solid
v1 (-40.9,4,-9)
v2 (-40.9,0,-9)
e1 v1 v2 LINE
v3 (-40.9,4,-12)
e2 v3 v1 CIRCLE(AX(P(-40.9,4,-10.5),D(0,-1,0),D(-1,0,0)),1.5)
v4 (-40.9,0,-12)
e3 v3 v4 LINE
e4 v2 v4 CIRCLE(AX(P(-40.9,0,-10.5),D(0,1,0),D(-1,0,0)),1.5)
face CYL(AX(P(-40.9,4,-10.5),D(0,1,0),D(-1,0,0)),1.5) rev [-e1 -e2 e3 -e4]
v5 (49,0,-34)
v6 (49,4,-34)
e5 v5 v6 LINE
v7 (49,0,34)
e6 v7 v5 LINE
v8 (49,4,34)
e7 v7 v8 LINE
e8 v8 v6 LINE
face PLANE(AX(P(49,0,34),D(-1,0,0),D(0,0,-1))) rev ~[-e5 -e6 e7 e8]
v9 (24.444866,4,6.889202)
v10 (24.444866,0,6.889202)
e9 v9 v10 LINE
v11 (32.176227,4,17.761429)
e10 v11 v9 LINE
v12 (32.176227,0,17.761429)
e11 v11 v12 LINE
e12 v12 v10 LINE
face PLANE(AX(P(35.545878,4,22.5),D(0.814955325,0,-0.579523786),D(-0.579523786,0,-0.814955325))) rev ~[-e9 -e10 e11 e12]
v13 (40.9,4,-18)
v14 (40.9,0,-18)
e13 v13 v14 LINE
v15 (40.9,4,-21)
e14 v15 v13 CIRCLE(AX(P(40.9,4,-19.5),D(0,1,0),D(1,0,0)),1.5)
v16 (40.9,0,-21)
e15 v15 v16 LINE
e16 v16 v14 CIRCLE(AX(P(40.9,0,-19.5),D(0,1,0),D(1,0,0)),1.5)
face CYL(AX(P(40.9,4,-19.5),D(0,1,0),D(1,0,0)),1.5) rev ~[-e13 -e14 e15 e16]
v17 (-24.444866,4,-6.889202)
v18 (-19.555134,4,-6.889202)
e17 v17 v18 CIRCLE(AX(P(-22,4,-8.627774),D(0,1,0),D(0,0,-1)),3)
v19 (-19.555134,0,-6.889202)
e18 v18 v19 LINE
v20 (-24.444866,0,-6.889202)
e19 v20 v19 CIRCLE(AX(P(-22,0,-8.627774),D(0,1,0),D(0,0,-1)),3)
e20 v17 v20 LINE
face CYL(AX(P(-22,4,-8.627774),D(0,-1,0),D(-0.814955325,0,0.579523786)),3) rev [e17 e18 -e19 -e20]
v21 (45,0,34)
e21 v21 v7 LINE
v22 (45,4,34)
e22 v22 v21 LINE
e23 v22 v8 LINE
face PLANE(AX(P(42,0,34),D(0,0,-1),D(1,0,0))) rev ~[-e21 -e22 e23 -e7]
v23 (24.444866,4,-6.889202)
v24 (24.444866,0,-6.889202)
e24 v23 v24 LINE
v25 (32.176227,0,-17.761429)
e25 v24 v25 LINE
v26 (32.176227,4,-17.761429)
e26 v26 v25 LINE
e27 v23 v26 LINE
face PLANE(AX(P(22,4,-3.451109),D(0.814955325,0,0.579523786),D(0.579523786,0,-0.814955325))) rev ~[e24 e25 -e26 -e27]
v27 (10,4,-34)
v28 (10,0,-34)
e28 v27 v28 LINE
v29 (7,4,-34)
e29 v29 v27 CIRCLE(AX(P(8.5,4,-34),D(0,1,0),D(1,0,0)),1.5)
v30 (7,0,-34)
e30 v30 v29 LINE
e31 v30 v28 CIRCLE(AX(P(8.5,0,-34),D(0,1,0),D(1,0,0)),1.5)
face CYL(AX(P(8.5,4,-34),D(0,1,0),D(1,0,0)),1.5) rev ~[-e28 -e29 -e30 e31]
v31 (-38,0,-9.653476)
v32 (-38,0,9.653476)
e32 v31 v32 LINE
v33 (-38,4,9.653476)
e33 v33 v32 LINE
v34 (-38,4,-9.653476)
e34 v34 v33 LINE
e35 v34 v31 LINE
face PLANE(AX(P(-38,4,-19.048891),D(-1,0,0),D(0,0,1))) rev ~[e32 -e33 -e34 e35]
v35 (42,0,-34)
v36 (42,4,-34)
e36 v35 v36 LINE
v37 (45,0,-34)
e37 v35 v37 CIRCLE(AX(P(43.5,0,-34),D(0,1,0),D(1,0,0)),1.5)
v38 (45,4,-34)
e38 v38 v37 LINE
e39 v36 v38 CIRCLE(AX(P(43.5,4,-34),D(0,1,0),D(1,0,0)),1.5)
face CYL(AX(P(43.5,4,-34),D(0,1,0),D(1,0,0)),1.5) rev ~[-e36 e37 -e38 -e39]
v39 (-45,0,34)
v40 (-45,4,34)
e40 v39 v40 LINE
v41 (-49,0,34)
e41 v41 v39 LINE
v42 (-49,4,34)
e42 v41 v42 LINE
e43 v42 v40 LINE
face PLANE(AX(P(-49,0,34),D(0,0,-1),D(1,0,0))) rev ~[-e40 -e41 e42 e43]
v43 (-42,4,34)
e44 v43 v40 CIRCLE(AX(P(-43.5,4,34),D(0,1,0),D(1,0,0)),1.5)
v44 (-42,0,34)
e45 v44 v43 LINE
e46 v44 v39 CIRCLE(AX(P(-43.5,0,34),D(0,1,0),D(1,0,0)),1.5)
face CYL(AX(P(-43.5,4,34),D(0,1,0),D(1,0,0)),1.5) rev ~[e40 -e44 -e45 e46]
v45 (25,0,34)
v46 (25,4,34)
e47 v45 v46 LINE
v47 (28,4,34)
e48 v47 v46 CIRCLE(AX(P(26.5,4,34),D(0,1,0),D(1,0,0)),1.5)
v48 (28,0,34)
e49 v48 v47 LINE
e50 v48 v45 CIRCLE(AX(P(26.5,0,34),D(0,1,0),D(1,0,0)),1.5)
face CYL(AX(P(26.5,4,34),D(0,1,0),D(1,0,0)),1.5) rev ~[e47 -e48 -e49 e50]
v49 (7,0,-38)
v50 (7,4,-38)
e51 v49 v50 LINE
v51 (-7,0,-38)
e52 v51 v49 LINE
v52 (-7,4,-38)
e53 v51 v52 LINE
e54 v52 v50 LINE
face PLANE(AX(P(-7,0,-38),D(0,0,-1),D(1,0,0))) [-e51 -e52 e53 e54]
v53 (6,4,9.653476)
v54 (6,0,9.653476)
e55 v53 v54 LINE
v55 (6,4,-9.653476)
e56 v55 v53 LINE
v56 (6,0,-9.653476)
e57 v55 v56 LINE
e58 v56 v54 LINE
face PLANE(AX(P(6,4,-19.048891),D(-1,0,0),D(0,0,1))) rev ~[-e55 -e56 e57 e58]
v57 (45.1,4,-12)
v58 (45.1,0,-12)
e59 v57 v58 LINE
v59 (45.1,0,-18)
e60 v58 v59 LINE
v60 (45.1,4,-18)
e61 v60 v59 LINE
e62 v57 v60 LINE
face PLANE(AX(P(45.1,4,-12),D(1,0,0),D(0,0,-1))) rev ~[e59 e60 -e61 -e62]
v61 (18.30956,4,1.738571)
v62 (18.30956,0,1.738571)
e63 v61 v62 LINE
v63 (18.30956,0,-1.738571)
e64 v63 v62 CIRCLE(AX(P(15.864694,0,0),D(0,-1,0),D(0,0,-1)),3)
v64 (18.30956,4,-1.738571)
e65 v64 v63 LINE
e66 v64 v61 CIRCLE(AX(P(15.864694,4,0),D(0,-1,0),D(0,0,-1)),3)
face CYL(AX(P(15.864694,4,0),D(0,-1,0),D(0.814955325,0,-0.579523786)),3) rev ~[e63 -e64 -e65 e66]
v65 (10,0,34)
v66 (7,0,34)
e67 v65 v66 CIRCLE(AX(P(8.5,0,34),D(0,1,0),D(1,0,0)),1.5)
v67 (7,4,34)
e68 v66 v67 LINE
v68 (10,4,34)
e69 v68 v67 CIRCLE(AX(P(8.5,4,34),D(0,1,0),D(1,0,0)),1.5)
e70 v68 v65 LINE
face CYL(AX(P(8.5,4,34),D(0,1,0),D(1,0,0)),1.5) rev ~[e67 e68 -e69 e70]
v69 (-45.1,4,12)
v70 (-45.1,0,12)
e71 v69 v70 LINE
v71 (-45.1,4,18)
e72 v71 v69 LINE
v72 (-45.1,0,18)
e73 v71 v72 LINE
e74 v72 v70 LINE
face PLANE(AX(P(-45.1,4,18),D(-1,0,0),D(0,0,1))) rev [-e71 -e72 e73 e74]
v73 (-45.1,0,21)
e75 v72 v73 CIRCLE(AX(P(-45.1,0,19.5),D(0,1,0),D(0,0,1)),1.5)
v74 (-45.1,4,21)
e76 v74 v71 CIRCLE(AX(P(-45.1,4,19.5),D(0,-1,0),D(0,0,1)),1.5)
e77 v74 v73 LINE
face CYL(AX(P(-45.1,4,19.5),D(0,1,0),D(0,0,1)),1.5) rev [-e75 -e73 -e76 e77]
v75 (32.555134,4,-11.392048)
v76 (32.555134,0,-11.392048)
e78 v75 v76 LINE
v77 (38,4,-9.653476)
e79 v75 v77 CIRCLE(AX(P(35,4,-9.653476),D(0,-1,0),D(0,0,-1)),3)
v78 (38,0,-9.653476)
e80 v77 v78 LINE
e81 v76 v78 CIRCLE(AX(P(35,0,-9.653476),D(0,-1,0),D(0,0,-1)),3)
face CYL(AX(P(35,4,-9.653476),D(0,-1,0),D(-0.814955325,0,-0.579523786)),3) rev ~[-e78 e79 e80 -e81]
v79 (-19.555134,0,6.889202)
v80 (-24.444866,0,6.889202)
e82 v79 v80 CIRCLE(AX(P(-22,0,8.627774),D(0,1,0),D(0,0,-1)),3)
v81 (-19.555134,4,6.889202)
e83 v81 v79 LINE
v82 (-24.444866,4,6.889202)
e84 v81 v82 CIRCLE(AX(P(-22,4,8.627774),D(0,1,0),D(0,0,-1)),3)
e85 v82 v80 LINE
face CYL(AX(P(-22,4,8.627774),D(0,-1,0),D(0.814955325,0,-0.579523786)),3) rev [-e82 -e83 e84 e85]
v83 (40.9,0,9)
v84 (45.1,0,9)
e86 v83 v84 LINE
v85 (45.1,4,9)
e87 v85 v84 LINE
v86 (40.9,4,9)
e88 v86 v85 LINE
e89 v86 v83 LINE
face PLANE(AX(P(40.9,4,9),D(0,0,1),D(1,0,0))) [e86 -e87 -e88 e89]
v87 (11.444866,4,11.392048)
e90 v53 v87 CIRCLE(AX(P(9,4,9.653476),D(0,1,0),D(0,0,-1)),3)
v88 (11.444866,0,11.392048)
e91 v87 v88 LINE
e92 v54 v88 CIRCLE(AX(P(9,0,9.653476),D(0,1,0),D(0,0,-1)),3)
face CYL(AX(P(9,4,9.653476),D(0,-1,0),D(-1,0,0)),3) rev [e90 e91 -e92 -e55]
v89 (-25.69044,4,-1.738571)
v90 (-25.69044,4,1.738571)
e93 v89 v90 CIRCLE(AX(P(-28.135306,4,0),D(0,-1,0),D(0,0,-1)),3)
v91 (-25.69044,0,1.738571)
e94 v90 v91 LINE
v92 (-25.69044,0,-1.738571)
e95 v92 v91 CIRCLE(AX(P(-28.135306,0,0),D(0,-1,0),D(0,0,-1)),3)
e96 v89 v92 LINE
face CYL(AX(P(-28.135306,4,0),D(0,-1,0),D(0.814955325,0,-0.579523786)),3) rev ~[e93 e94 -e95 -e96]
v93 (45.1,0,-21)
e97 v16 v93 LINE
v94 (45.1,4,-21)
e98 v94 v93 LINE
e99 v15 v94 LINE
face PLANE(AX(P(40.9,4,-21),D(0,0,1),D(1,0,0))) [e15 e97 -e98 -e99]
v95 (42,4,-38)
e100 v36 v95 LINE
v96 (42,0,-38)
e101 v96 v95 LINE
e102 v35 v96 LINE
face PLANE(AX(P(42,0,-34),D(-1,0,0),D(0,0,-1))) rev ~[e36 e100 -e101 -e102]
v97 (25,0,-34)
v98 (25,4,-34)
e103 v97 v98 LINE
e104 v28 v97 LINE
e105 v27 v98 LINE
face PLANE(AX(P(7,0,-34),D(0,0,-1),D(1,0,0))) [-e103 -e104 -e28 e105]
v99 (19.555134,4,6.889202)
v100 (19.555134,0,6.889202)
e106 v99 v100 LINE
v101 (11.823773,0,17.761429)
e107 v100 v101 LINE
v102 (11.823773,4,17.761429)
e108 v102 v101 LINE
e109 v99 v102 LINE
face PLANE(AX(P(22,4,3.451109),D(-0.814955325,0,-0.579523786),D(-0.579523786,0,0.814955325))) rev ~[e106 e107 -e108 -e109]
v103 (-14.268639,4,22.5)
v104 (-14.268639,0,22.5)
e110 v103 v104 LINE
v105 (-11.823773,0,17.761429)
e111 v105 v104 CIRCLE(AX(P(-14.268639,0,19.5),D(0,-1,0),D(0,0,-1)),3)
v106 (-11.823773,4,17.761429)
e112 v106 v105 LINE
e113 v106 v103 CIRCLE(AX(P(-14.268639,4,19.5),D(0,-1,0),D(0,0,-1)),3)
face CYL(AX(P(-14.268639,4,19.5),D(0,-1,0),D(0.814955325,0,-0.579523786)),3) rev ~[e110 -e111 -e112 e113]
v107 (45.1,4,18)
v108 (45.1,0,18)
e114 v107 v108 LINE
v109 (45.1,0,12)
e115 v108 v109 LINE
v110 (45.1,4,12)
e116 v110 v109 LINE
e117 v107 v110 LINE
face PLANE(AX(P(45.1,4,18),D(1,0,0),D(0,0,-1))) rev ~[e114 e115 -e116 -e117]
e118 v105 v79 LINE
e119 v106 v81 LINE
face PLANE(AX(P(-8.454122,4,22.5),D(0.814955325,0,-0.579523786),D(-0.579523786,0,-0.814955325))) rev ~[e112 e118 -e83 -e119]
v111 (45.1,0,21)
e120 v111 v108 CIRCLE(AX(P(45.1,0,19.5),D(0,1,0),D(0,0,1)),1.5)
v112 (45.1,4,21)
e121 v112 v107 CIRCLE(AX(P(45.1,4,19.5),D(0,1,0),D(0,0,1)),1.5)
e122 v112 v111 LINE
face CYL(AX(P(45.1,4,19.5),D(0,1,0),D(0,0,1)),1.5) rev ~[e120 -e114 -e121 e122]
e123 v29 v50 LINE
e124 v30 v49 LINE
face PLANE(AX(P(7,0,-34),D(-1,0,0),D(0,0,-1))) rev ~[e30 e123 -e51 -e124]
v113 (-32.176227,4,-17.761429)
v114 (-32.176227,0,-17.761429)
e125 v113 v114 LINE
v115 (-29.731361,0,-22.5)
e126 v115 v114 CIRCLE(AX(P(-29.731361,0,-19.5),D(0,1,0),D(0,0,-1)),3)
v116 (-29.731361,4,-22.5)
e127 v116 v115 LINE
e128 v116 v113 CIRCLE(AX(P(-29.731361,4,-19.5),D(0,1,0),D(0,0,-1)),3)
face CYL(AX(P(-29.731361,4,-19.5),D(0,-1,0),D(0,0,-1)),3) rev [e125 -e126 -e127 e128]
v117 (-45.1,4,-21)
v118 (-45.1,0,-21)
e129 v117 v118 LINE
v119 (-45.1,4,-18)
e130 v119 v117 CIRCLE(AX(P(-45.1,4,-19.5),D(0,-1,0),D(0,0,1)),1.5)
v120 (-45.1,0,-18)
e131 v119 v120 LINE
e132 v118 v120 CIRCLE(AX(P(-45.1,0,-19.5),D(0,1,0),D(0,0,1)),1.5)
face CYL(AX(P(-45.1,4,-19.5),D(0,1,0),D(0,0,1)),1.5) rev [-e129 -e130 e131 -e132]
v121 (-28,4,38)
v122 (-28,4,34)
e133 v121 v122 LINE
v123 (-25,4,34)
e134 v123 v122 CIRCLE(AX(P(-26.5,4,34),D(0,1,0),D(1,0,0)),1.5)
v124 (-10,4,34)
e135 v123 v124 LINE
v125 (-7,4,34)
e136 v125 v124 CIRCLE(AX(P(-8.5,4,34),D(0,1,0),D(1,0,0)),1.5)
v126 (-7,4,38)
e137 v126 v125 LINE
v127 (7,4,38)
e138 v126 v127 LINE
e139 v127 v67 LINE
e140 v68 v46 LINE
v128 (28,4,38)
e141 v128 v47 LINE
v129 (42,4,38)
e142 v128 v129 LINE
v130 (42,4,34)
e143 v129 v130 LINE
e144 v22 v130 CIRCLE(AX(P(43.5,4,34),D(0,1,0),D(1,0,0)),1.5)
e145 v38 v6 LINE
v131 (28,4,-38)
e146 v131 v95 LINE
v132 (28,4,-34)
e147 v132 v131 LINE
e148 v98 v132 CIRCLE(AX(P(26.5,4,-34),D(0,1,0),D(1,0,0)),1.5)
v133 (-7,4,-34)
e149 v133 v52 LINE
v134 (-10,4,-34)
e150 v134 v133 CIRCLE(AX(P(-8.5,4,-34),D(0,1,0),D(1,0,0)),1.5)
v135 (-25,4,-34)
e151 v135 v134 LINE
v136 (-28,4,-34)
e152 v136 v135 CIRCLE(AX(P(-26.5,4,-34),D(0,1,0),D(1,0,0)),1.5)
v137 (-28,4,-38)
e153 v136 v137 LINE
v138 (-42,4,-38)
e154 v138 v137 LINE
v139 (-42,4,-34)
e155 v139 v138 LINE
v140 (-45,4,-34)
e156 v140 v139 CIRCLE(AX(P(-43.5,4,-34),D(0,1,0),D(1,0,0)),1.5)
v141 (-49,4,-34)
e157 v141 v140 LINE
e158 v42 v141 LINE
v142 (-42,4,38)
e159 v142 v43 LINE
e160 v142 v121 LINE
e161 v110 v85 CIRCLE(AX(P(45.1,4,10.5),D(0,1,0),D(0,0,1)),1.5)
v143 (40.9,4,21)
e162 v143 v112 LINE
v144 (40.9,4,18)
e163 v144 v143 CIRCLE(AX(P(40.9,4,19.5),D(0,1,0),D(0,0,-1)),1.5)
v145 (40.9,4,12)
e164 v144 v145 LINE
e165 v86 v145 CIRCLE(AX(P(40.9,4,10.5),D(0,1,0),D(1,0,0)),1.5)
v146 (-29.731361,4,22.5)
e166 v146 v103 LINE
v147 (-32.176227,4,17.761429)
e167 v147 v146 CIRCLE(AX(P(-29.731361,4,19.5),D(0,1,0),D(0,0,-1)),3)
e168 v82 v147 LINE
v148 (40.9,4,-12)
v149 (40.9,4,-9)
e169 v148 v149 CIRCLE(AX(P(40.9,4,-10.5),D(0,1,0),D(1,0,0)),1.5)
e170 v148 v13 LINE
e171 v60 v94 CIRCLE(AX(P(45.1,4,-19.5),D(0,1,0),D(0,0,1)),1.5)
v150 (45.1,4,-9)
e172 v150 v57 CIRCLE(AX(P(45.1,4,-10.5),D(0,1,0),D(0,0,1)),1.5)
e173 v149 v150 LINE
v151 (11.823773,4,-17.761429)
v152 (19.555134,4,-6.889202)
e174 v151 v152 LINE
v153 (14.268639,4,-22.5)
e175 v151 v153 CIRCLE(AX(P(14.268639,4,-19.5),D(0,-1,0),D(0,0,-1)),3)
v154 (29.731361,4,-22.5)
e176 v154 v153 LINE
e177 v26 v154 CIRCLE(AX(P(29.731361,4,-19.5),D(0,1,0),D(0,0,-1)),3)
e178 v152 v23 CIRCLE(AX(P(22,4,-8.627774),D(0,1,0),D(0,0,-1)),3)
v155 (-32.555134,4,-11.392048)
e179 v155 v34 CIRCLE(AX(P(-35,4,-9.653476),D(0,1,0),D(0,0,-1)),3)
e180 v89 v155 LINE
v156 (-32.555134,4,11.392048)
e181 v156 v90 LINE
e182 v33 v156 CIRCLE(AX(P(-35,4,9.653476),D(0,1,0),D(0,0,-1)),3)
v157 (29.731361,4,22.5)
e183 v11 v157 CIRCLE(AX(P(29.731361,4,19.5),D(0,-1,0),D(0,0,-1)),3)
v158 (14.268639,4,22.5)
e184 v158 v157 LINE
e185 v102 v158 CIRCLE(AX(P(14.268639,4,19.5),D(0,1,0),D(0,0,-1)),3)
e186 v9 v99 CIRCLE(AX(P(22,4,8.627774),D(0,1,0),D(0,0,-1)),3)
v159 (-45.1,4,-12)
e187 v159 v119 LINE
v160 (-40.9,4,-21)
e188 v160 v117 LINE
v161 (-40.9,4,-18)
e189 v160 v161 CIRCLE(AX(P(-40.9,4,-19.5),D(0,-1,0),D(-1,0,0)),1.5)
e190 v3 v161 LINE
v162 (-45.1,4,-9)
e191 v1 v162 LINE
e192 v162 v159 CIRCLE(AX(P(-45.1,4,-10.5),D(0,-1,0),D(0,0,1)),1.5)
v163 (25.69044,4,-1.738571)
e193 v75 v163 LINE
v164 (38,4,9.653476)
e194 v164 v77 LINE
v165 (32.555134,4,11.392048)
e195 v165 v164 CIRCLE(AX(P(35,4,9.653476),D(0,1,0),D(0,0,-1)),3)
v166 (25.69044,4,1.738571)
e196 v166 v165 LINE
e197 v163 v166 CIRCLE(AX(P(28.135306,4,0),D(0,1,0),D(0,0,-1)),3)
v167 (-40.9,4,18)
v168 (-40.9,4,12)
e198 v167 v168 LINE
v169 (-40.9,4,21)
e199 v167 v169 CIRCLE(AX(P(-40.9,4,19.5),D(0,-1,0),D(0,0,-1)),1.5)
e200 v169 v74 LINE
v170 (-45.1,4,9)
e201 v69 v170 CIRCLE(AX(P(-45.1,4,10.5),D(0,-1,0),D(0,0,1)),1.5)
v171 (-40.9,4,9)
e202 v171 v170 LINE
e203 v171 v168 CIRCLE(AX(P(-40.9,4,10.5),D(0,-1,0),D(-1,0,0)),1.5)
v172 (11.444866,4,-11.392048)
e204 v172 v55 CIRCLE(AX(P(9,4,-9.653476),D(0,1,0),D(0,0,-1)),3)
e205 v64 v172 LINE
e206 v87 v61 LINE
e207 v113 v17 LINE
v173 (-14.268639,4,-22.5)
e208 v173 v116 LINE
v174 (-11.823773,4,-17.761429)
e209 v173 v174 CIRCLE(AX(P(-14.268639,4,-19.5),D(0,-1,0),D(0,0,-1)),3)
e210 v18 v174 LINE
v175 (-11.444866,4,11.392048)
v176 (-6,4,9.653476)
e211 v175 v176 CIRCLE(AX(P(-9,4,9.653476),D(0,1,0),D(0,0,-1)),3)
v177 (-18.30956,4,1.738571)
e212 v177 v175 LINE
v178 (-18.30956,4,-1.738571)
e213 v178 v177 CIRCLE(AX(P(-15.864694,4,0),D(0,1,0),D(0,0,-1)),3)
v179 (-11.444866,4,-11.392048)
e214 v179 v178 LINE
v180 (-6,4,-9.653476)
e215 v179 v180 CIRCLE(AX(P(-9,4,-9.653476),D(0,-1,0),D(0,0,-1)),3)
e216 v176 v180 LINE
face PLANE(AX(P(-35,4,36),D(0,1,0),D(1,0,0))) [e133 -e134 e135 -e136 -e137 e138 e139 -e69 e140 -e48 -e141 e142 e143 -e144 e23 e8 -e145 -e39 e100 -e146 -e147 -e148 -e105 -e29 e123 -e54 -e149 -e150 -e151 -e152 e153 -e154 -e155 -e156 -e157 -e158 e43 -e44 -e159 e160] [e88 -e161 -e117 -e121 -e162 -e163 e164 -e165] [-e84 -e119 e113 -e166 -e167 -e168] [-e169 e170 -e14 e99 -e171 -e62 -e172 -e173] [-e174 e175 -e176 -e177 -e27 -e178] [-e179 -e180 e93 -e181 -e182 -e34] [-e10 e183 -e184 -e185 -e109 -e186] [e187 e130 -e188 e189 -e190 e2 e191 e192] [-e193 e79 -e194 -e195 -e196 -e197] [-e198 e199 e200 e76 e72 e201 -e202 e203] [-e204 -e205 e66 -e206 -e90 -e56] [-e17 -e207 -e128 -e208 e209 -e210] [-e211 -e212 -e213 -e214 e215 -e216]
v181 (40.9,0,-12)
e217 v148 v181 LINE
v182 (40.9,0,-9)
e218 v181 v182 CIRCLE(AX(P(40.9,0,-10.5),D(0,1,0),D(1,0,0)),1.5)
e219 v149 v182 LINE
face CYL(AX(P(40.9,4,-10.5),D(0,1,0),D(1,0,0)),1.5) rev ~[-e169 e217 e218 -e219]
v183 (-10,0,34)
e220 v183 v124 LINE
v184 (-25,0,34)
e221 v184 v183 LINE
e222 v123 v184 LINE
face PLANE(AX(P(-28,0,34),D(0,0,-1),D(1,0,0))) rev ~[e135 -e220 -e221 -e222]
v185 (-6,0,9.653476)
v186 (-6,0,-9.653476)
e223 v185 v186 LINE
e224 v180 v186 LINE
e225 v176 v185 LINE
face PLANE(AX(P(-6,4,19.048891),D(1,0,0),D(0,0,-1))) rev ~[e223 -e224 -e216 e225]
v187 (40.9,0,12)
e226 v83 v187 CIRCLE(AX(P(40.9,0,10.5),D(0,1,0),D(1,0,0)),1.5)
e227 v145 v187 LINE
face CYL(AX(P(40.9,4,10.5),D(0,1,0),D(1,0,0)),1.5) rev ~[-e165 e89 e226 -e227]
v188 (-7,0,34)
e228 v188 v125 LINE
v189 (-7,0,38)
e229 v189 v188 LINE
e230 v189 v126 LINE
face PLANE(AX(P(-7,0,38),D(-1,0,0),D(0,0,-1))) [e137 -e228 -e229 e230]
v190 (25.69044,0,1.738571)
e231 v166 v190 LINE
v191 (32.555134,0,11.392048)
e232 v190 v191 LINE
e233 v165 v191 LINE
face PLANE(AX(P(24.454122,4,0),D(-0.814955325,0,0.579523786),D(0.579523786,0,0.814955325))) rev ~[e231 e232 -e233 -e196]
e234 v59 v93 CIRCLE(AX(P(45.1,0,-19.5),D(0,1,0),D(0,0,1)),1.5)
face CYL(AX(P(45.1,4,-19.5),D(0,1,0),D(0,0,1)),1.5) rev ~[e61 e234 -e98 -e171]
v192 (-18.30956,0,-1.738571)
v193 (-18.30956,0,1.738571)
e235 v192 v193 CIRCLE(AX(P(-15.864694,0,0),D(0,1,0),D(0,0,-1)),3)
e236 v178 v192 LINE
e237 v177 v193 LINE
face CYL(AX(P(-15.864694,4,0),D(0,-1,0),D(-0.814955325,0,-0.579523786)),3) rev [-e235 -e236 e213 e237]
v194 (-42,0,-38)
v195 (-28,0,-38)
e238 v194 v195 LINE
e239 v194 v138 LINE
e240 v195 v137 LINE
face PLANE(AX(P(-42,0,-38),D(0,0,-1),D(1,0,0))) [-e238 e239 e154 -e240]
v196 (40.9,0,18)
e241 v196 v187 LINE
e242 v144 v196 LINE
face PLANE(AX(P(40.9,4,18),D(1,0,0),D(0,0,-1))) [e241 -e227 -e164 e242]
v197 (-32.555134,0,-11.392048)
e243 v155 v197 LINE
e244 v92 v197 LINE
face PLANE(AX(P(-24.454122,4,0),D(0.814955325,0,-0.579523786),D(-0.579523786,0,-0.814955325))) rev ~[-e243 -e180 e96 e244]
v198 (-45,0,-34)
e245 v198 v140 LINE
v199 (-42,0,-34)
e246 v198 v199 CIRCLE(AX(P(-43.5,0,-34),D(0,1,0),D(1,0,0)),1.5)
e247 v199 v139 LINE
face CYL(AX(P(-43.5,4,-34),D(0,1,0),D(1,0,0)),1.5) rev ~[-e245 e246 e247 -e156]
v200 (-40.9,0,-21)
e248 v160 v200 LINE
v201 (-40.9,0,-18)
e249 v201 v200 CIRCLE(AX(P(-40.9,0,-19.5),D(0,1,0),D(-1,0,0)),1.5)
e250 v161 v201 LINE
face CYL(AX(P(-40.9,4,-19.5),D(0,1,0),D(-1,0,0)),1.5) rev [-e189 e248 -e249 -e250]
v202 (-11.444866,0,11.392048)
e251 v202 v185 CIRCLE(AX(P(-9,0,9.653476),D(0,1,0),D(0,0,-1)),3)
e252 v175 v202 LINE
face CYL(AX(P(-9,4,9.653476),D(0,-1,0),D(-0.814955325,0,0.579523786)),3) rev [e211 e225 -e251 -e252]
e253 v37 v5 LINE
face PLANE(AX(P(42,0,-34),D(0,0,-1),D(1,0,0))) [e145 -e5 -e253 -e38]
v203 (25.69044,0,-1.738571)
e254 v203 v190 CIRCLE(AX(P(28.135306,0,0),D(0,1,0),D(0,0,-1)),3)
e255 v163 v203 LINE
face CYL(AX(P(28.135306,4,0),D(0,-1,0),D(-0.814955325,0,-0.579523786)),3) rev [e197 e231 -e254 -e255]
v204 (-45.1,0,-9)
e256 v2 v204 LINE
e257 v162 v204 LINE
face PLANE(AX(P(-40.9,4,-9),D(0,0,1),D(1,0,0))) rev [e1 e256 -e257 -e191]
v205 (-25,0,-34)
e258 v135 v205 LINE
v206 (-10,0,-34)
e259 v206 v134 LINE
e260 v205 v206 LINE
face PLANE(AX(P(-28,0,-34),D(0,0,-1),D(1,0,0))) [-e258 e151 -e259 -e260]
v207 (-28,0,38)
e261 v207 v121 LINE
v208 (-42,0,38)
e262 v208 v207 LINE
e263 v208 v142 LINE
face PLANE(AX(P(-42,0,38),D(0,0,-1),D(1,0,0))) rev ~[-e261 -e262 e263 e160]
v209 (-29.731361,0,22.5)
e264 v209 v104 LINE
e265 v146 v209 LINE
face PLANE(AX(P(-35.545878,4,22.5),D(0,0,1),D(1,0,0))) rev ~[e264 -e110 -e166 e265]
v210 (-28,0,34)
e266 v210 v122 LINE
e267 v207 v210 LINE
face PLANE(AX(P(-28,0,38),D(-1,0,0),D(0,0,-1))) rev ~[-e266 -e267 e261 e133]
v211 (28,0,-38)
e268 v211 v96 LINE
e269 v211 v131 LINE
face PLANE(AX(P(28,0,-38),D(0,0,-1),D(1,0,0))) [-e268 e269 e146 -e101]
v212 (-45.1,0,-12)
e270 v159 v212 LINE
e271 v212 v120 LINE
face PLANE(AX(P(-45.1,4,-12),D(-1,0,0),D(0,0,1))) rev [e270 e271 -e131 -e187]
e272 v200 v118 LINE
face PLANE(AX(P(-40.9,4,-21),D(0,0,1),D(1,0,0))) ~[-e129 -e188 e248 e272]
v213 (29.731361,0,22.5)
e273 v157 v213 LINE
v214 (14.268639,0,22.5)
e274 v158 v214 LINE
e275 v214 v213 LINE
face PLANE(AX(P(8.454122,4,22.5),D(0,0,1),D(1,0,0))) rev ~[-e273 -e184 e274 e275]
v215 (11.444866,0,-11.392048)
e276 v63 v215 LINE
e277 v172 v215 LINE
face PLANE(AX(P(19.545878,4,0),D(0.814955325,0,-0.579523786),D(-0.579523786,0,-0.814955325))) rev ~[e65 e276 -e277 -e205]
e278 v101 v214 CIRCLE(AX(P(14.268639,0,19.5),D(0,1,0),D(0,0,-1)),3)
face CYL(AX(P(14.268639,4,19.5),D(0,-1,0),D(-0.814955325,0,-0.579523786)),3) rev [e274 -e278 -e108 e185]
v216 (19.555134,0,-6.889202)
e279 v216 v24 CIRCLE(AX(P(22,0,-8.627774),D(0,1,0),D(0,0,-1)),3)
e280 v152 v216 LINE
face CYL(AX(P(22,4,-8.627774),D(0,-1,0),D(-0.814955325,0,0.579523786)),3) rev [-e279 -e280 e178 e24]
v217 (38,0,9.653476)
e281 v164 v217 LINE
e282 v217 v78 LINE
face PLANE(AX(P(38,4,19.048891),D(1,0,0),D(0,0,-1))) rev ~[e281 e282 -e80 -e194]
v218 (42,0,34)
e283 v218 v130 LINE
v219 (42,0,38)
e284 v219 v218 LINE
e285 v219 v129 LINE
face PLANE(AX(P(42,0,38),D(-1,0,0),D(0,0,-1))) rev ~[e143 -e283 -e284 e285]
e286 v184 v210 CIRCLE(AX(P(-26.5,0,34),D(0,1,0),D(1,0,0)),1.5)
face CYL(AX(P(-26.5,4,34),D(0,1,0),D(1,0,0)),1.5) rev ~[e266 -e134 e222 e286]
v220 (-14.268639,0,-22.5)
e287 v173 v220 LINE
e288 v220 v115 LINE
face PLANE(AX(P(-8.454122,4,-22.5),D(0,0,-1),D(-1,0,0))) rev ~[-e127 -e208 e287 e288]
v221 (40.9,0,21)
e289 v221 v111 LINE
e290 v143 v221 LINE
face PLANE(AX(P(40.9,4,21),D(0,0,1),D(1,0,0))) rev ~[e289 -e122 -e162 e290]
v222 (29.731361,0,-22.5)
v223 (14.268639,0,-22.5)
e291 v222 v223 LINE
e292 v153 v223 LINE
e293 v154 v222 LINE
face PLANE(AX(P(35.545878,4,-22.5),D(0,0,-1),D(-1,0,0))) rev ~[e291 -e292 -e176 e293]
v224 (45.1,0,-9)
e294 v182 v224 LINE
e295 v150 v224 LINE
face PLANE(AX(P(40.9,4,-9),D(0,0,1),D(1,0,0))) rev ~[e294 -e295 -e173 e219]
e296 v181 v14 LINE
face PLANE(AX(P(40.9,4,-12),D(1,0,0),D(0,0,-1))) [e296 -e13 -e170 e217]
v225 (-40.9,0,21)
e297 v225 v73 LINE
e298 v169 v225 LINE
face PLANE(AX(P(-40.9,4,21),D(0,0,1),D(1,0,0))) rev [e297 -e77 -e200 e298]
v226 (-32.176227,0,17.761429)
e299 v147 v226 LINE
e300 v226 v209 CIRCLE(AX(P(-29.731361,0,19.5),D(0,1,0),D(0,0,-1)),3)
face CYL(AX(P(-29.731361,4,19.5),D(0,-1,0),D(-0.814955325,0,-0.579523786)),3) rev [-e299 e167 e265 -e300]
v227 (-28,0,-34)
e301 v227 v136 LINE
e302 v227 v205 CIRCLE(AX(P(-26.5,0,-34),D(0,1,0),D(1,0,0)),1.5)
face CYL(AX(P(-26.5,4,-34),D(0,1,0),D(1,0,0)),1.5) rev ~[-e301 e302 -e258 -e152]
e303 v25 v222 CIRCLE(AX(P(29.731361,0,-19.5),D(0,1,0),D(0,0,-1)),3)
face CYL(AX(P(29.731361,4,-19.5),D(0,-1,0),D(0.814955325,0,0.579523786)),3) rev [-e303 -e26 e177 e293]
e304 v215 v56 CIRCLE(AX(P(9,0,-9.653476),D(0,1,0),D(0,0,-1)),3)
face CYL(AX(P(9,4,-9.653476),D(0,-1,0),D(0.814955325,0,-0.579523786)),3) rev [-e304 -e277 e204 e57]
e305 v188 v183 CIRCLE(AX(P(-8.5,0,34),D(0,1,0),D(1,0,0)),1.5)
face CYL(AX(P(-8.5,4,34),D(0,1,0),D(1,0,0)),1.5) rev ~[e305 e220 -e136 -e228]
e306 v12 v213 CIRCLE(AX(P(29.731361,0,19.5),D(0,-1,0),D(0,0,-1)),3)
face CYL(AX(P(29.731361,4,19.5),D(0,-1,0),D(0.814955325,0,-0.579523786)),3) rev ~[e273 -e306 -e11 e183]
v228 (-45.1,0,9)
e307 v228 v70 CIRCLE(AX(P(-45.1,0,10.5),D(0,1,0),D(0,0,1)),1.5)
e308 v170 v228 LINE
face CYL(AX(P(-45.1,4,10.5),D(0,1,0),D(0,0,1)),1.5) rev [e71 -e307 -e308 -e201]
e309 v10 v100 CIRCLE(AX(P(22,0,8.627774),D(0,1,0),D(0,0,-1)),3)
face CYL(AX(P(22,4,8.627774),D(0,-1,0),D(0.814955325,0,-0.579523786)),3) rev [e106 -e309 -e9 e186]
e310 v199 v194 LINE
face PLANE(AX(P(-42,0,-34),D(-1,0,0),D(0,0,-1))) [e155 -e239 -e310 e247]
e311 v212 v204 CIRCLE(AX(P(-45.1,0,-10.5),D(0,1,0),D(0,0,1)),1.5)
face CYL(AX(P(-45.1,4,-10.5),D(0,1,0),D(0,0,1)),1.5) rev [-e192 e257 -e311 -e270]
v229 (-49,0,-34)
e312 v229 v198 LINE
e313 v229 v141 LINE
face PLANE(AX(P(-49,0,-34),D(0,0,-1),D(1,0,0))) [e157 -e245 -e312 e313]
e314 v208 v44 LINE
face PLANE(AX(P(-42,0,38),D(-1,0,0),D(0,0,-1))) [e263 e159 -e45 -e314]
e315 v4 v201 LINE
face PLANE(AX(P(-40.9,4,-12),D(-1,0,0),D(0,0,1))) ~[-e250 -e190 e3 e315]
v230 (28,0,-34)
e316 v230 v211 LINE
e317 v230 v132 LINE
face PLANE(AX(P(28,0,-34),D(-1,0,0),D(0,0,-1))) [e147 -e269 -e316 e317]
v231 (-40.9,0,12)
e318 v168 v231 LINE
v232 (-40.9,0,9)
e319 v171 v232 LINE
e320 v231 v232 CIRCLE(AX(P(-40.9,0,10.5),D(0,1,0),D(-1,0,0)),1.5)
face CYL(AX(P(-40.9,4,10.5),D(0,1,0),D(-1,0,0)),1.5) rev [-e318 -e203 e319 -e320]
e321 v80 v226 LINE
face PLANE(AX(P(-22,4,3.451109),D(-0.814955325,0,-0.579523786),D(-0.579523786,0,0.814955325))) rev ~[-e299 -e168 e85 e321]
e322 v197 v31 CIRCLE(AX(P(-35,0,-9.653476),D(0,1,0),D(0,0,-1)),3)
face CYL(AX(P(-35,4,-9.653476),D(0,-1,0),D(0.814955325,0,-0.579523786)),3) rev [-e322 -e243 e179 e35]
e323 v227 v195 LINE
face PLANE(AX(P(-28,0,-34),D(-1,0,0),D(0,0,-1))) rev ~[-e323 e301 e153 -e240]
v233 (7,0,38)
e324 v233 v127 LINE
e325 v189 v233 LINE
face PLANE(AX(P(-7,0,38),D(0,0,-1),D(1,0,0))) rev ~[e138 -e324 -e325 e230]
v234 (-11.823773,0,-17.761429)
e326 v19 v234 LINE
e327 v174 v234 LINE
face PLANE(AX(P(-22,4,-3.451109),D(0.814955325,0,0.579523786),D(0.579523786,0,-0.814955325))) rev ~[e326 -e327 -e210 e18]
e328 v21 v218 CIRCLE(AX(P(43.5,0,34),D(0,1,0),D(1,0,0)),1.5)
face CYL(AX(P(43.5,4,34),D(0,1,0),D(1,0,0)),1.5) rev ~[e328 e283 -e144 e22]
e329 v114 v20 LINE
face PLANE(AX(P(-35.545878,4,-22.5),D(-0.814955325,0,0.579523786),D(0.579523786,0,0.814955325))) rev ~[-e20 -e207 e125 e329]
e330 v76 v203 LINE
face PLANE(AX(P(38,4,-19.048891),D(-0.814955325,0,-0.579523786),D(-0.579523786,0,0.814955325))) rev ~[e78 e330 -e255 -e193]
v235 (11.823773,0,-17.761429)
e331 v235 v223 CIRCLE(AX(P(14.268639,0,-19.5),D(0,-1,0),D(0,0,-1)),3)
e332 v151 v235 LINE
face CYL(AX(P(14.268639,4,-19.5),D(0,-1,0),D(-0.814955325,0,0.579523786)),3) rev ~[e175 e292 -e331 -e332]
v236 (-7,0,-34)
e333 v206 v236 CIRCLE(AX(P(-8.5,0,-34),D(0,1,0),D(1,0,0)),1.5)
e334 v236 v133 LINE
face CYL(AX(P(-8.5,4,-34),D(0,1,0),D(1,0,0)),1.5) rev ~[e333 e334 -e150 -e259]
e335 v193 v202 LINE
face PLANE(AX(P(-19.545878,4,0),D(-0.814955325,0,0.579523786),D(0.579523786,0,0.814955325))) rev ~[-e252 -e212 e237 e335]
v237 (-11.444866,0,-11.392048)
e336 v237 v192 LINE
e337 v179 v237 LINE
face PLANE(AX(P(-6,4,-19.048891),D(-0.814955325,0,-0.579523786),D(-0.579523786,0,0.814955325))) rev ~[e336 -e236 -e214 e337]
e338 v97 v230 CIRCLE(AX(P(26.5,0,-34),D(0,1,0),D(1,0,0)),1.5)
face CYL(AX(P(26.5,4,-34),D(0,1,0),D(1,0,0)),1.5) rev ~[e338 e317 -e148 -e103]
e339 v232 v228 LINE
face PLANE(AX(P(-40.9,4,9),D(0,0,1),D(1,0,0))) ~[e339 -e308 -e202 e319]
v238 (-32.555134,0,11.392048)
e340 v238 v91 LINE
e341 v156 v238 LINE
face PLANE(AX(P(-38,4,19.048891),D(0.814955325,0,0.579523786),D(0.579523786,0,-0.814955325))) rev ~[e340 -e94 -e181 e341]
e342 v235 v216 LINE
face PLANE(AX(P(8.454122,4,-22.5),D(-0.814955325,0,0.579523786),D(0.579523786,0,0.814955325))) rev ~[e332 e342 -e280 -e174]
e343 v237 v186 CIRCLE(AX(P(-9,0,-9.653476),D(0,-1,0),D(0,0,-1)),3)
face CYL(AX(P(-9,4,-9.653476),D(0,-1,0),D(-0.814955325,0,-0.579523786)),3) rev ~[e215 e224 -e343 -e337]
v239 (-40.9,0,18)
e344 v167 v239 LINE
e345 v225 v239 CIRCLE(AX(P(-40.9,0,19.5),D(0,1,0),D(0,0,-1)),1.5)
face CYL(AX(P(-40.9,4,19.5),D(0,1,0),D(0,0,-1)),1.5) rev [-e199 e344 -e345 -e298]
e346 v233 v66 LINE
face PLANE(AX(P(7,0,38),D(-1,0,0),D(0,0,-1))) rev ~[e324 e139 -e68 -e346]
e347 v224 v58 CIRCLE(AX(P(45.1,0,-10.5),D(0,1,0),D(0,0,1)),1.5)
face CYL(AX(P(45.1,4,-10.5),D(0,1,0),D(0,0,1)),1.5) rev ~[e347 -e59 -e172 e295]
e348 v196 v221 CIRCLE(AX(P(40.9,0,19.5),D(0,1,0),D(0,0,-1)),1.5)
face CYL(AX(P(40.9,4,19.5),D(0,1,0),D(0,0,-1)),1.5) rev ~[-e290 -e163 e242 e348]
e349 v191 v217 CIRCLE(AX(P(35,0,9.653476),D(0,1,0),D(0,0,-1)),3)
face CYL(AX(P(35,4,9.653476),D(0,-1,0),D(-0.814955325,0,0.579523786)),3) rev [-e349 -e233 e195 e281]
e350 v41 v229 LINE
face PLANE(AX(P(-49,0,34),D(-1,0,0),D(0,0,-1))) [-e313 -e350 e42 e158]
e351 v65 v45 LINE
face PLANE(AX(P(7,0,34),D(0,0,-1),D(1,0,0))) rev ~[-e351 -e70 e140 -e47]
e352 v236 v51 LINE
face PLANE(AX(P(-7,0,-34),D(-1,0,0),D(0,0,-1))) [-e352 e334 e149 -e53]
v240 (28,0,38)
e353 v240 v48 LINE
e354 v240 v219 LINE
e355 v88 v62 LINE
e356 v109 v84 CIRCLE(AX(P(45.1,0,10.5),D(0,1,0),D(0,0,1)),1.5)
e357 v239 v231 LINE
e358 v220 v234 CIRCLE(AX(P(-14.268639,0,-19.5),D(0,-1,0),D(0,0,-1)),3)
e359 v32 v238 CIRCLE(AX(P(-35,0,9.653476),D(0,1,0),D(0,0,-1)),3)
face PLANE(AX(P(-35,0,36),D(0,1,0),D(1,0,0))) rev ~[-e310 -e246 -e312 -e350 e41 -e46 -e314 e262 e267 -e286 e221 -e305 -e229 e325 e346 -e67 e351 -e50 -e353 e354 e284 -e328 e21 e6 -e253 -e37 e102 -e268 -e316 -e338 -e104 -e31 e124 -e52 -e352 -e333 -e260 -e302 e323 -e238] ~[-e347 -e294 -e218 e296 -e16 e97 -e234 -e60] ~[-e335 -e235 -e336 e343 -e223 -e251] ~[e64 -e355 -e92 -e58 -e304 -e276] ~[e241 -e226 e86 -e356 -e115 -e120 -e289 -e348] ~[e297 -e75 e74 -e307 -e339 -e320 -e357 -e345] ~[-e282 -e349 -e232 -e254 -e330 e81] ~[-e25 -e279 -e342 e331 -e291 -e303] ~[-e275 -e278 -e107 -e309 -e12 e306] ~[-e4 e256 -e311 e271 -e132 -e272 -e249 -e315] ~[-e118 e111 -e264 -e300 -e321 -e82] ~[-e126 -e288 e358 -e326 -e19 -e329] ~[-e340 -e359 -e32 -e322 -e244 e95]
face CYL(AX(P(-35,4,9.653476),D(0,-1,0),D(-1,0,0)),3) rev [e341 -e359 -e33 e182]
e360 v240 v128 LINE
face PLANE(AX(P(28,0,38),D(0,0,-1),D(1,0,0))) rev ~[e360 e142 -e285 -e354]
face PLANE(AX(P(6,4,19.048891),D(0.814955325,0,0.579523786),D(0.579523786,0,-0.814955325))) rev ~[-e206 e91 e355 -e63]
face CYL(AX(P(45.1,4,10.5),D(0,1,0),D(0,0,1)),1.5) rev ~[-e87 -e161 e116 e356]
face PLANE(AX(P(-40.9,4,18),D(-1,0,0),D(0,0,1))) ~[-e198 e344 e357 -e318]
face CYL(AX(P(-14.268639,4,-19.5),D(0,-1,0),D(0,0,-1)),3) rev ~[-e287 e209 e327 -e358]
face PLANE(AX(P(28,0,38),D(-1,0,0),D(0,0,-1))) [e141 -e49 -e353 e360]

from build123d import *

# Parameters (mm, degrees)
SKETCH_1_W          = 14
SKETCH_1_H          = 4
SKETCH_1_W_2        = 98
SKETCH_1_H_2        = 68
EXTRUDE_1_DEPTH     = 4
SKETCH_2_R          = 1.5
CUT_EXTRUDE_1_DEPTH = 4
SKETCH_3_R          = 1.5
SKETCH_3_W          = 4.2
SKETCH_3_H          = 12
CUT_EXTRUDE_2_DEPTH = 10
CUT_EXTRUDE_3_DEPTH = 5
FILLET_1_R          = 3


with BuildPart() as part:
    # 草图1 → 凸台-拉伸1 (new body)
    with BuildSketch(Plane(origin=(0, 0, 0), x_dir=(1, 0, 0), z_dir=(0, 1, 0))):
        with Locations((-35, -36)):
            Rectangle(SKETCH_1_W, SKETCH_1_H)
        Rectangle(SKETCH_1_W_2, SKETCH_1_H_2)
        with Locations((0, -36)):
            Rectangle(SKETCH_1_W, SKETCH_1_H)
        with Locations((35, -36)):
            Rectangle(SKETCH_1_W, SKETCH_1_H)
        with Locations((-35, 36)):
            Rectangle(SKETCH_1_W, SKETCH_1_H)
        with Locations((35, 36)):
            Rectangle(SKETCH_1_W, SKETCH_1_H)
        with Locations((0, 36)):
            Rectangle(SKETCH_1_W, SKETCH_1_H)
    extrude(amount=EXTRUDE_1_DEPTH)

    # 草图2 → 切除-拉伸1 (cut)
    with BuildSketch(Plane(origin=(0, 4, 0), x_dir=(1, 0, 0), z_dir=(0, 1, 0))):
        with Locations((-43.5, 34)):
            Circle(SKETCH_2_R)
        with Locations((-26.5, 34)):
            Circle(SKETCH_2_R)
        with Locations((-8.5, 34)):
            Circle(SKETCH_2_R)
        with Locations((-43.5, -34)):
            Circle(SKETCH_2_R)
        with Locations((-26.5, -34)):
            Circle(SKETCH_2_R)
        with Locations((-8.5, -34)):
            Circle(SKETCH_2_R)
        with Locations((8.5, 34)):
            Circle(SKETCH_2_R)
        with Locations((26.5, 34)):
            Circle(SKETCH_2_R)
        with Locations((26.5, -34)):
            Circle(SKETCH_2_R)
        with Locations((8.5, -34)):
            Circle(SKETCH_2_R)
        with Locations((43.5, -34)):
            Circle(SKETCH_2_R)
        with Locations((43.5, 34)):
            Circle(SKETCH_2_R)
    extrude(amount=-CUT_EXTRUDE_1_DEPTH, mode=Mode.SUBTRACT)

    # 草图3 → 切除-拉伸2 (cut)
    with BuildSketch(Plane(origin=(0, 4, 0), x_dir=(1, 0, 0), z_dir=(0, 1, 0))):
        with Locations((45.1, 10.5)):
            Circle(SKETCH_3_R)
        with Locations((45.1, 19.5)):
            Circle(SKETCH_3_R)
        with Locations((40.9, 19.5)):
            Circle(SKETCH_3_R)
        with Locations((40.9, 10.5)):
            Circle(SKETCH_3_R)
        with Locations((43, 15)):
            Rectangle(SKETCH_3_W, SKETCH_3_H)
        with BuildLine():
            ThreePointArc((42.4, 10.5), (41.960660172, 11.560660172), (40.9, 12))
            Line((40.9, 12), (40.9, 9))
            ThreePointArc((40.9, 9), (41.960660172, 9.439339828), (42.4, 10.5))
        make_face()
        with BuildLine():
            Line((40.9, 9), (40.9, 12))
            ThreePointArc((40.9, 12), (39.4, 10.5), (40.9, 9))
        make_face()
        with BuildLine():
            ThreePointArc((42.4, 19.5), (41.960660172, 20.560660172), (40.9, 21))
            Line((40.9, 21), (40.9, 18))
            ThreePointArc((40.9, 18), (41.960660172, 18.439339828), (42.4, 19.5))
        make_face()
        with BuildLine():
            Line((40.9, 18), (40.9, 21))
            ThreePointArc((40.9, 21), (39.4, 19.5), (40.9, 18))
        make_face()
        with BuildLine():
            ThreePointArc((46.6, 19.5), (46.160660172, 20.560660172), (45.1, 21))
            Line((45.1, 21), (45.1, 18))
            ThreePointArc((45.1, 18), (46.160660172, 18.439339828), (46.6, 19.5))
        make_face()
        with BuildLine():
            Line((45.1, 18), (45.1, 21))
            ThreePointArc((45.1, 21), (43.6, 19.5), (45.1, 18))
        make_face()
        with BuildLine():
            ThreePointArc((46.6, 10.5), (46.160660172, 11.560660172), (45.1, 12))
            Line((45.1, 12), (45.1, 9))
            ThreePointArc((45.1, 9), (46.160660172, 9.439339828), (46.6, 10.5))
        make_face()
        with BuildLine():
            Line((45.1, 9), (45.1, 12))
            ThreePointArc((45.1, 12), (43.6, 10.5), (45.1, 9))
        make_face()
        with BuildLine():
            ThreePointArc((40.9, -18), (39.4, -19.5), (40.9, -21))
            Line((40.9, -21), (40.9, -18))
        make_face()
        with BuildLine():
            Line((40.9, -18), (40.9, -21))
            ThreePointArc((40.9, -21), (41.960660172, -20.560660172), (42.4, -19.5))
            ThreePointArc((42.4, -19.5), (41.960660172, -18.439339828), (40.9, -18))
        make_face()
        with Locations((40.9, -19.5)):
            Circle(SKETCH_3_R)
        with Locations((45.1, -19.5)):
            Circle(SKETCH_3_R)
        with Locations((45.1, -10.5)):
            Circle(SKETCH_3_R)
        with Locations((40.9, -10.5)):
            Circle(SKETCH_3_R)
        with Locations((43, -15)):
            Rectangle(SKETCH_3_W, SKETCH_3_H)
        with BuildLine():
            ThreePointArc((45.1, -18), (43.6, -19.5), (45.1, -21))
            Line((45.1, -21), (45.1, -18))
        make_face()
        with BuildLine():
            Line((45.1, -18), (45.1, -21))
            ThreePointArc((45.1, -21), (46.160660172, -20.560660172), (46.6, -19.5))
            ThreePointArc((46.6, -19.5), (46.160660172, -18.439339828), (45.1, -18))
        make_face()
        with BuildLine():
            ThreePointArc((40.9, -9), (39.4, -10.5), (40.9, -12))
            Line((40.9, -12), (40.9, -9))
        make_face()
        with BuildLine():
            Line((40.9, -9), (40.9, -12))
            ThreePointArc((40.9, -12), (41.960660172, -11.560660172), (42.4, -10.5))
            ThreePointArc((42.4, -10.5), (41.960660172, -9.439339828), (40.9, -9))
        make_face()
        with BuildLine():
            ThreePointArc((45.1, -9), (43.6, -10.5), (45.1, -12))
            Line((45.1, -12), (45.1, -9))
        make_face()
        with BuildLine():
            Line((45.1, -9), (45.1, -12))
            ThreePointArc((45.1, -12), (46.160660172, -11.560660172), (46.6, -10.5))
            ThreePointArc((46.6, -10.5), (46.160660172, -9.439339828), (45.1, -9))
        make_face()
    cut_extrude_2 = extrude(amount=-CUT_EXTRUDE_2_DEPTH, mode=Mode.SUBTRACT)

    # 镜向1: 切除-拉伸2 across plane
    add(cut_extrude_2.mirror(Plane(origin=(0, 0, 0), x_dir=(0, 0, 1), z_dir=(1, 0, 0))), mode=Mode.SUBTRACT)

    # 草图4 → 切除-拉伸3 (cut)
    with BuildSketch(Plane(origin=(0, 4, 0), x_dir=(1, 0, 0), z_dir=(0, 1, 0))):
        Polygon((-24.454122256, 0), (-38, 19.048890577), (-38, -19.048890577), align=None)
        Polygon((-8.454122256, 22.5), (-35.545877744, 22.5), (-22, 3.451109423), align=None)
        Polygon((-6, 19.048890577), (-19.545877744, 0), (-6, -19.048890577), align=None)
        Polygon((-8.454122256, -22.5), (-22, -3.451109423), (-35.545877744, -22.5), align=None)
        Polygon((19.545877744, 0), (6, 19.048890577), (6, -19.048890577), align=None)
        Polygon((8.454122256, 22.5), (22, 3.451109423), (35.545877744, 22.5), align=None)
        Polygon((38, 19.048890577), (24.454122256, 0), (38, -19.048890577), align=None)
        Polygon((35.545877744, -22.5), (22, -3.451109423), (8.454122256, -22.5), align=None)
    extrude(amount=-CUT_EXTRUDE_3_DEPTH, mode=Mode.SUBTRACT)

    # 圆角1
    fillet_1_edges = [part.edges().sort_by_distance(p)[0] for p in [
        (6, 2, -19.048890577),
        (19.545877744, 2, 0),
        (6, 2, 19.048890577),
        (-22, 2, 3.451109423),
        (-8.454122256, 2, 22.5),
        (-35.545877744, 2, 22.5),
        (-8.454122256, 2, -22.5),
        (-22, 2, -3.451109423),
        (-35.545877744, 2, -22.5),
        (-6, 2, -19.048890577),
        (-6, 2, 19.048890577),
        (-19.545877744, 2, 0),
        (35.545877744, 2, 22.5),
        (8.454122256, 2, 22.5),
        (22, 2, 3.451109423),
        (35.545877744, 2, -22.5),
        (22, 2, -3.451109423),
        (8.454122256, 2, -22.5),
        (38, 2, -19.048890577),
        (38, 2, 19.048890577),
        (24.454122256, 2, 0),
        (-24.454122256, 2, 0),
        (-38, 2, 19.048890577),
        (-38, 2, -19.048890577),
    ]]
    fillet(fillet_1_edges, radius=FILLET_1_R)


solid = part.part
